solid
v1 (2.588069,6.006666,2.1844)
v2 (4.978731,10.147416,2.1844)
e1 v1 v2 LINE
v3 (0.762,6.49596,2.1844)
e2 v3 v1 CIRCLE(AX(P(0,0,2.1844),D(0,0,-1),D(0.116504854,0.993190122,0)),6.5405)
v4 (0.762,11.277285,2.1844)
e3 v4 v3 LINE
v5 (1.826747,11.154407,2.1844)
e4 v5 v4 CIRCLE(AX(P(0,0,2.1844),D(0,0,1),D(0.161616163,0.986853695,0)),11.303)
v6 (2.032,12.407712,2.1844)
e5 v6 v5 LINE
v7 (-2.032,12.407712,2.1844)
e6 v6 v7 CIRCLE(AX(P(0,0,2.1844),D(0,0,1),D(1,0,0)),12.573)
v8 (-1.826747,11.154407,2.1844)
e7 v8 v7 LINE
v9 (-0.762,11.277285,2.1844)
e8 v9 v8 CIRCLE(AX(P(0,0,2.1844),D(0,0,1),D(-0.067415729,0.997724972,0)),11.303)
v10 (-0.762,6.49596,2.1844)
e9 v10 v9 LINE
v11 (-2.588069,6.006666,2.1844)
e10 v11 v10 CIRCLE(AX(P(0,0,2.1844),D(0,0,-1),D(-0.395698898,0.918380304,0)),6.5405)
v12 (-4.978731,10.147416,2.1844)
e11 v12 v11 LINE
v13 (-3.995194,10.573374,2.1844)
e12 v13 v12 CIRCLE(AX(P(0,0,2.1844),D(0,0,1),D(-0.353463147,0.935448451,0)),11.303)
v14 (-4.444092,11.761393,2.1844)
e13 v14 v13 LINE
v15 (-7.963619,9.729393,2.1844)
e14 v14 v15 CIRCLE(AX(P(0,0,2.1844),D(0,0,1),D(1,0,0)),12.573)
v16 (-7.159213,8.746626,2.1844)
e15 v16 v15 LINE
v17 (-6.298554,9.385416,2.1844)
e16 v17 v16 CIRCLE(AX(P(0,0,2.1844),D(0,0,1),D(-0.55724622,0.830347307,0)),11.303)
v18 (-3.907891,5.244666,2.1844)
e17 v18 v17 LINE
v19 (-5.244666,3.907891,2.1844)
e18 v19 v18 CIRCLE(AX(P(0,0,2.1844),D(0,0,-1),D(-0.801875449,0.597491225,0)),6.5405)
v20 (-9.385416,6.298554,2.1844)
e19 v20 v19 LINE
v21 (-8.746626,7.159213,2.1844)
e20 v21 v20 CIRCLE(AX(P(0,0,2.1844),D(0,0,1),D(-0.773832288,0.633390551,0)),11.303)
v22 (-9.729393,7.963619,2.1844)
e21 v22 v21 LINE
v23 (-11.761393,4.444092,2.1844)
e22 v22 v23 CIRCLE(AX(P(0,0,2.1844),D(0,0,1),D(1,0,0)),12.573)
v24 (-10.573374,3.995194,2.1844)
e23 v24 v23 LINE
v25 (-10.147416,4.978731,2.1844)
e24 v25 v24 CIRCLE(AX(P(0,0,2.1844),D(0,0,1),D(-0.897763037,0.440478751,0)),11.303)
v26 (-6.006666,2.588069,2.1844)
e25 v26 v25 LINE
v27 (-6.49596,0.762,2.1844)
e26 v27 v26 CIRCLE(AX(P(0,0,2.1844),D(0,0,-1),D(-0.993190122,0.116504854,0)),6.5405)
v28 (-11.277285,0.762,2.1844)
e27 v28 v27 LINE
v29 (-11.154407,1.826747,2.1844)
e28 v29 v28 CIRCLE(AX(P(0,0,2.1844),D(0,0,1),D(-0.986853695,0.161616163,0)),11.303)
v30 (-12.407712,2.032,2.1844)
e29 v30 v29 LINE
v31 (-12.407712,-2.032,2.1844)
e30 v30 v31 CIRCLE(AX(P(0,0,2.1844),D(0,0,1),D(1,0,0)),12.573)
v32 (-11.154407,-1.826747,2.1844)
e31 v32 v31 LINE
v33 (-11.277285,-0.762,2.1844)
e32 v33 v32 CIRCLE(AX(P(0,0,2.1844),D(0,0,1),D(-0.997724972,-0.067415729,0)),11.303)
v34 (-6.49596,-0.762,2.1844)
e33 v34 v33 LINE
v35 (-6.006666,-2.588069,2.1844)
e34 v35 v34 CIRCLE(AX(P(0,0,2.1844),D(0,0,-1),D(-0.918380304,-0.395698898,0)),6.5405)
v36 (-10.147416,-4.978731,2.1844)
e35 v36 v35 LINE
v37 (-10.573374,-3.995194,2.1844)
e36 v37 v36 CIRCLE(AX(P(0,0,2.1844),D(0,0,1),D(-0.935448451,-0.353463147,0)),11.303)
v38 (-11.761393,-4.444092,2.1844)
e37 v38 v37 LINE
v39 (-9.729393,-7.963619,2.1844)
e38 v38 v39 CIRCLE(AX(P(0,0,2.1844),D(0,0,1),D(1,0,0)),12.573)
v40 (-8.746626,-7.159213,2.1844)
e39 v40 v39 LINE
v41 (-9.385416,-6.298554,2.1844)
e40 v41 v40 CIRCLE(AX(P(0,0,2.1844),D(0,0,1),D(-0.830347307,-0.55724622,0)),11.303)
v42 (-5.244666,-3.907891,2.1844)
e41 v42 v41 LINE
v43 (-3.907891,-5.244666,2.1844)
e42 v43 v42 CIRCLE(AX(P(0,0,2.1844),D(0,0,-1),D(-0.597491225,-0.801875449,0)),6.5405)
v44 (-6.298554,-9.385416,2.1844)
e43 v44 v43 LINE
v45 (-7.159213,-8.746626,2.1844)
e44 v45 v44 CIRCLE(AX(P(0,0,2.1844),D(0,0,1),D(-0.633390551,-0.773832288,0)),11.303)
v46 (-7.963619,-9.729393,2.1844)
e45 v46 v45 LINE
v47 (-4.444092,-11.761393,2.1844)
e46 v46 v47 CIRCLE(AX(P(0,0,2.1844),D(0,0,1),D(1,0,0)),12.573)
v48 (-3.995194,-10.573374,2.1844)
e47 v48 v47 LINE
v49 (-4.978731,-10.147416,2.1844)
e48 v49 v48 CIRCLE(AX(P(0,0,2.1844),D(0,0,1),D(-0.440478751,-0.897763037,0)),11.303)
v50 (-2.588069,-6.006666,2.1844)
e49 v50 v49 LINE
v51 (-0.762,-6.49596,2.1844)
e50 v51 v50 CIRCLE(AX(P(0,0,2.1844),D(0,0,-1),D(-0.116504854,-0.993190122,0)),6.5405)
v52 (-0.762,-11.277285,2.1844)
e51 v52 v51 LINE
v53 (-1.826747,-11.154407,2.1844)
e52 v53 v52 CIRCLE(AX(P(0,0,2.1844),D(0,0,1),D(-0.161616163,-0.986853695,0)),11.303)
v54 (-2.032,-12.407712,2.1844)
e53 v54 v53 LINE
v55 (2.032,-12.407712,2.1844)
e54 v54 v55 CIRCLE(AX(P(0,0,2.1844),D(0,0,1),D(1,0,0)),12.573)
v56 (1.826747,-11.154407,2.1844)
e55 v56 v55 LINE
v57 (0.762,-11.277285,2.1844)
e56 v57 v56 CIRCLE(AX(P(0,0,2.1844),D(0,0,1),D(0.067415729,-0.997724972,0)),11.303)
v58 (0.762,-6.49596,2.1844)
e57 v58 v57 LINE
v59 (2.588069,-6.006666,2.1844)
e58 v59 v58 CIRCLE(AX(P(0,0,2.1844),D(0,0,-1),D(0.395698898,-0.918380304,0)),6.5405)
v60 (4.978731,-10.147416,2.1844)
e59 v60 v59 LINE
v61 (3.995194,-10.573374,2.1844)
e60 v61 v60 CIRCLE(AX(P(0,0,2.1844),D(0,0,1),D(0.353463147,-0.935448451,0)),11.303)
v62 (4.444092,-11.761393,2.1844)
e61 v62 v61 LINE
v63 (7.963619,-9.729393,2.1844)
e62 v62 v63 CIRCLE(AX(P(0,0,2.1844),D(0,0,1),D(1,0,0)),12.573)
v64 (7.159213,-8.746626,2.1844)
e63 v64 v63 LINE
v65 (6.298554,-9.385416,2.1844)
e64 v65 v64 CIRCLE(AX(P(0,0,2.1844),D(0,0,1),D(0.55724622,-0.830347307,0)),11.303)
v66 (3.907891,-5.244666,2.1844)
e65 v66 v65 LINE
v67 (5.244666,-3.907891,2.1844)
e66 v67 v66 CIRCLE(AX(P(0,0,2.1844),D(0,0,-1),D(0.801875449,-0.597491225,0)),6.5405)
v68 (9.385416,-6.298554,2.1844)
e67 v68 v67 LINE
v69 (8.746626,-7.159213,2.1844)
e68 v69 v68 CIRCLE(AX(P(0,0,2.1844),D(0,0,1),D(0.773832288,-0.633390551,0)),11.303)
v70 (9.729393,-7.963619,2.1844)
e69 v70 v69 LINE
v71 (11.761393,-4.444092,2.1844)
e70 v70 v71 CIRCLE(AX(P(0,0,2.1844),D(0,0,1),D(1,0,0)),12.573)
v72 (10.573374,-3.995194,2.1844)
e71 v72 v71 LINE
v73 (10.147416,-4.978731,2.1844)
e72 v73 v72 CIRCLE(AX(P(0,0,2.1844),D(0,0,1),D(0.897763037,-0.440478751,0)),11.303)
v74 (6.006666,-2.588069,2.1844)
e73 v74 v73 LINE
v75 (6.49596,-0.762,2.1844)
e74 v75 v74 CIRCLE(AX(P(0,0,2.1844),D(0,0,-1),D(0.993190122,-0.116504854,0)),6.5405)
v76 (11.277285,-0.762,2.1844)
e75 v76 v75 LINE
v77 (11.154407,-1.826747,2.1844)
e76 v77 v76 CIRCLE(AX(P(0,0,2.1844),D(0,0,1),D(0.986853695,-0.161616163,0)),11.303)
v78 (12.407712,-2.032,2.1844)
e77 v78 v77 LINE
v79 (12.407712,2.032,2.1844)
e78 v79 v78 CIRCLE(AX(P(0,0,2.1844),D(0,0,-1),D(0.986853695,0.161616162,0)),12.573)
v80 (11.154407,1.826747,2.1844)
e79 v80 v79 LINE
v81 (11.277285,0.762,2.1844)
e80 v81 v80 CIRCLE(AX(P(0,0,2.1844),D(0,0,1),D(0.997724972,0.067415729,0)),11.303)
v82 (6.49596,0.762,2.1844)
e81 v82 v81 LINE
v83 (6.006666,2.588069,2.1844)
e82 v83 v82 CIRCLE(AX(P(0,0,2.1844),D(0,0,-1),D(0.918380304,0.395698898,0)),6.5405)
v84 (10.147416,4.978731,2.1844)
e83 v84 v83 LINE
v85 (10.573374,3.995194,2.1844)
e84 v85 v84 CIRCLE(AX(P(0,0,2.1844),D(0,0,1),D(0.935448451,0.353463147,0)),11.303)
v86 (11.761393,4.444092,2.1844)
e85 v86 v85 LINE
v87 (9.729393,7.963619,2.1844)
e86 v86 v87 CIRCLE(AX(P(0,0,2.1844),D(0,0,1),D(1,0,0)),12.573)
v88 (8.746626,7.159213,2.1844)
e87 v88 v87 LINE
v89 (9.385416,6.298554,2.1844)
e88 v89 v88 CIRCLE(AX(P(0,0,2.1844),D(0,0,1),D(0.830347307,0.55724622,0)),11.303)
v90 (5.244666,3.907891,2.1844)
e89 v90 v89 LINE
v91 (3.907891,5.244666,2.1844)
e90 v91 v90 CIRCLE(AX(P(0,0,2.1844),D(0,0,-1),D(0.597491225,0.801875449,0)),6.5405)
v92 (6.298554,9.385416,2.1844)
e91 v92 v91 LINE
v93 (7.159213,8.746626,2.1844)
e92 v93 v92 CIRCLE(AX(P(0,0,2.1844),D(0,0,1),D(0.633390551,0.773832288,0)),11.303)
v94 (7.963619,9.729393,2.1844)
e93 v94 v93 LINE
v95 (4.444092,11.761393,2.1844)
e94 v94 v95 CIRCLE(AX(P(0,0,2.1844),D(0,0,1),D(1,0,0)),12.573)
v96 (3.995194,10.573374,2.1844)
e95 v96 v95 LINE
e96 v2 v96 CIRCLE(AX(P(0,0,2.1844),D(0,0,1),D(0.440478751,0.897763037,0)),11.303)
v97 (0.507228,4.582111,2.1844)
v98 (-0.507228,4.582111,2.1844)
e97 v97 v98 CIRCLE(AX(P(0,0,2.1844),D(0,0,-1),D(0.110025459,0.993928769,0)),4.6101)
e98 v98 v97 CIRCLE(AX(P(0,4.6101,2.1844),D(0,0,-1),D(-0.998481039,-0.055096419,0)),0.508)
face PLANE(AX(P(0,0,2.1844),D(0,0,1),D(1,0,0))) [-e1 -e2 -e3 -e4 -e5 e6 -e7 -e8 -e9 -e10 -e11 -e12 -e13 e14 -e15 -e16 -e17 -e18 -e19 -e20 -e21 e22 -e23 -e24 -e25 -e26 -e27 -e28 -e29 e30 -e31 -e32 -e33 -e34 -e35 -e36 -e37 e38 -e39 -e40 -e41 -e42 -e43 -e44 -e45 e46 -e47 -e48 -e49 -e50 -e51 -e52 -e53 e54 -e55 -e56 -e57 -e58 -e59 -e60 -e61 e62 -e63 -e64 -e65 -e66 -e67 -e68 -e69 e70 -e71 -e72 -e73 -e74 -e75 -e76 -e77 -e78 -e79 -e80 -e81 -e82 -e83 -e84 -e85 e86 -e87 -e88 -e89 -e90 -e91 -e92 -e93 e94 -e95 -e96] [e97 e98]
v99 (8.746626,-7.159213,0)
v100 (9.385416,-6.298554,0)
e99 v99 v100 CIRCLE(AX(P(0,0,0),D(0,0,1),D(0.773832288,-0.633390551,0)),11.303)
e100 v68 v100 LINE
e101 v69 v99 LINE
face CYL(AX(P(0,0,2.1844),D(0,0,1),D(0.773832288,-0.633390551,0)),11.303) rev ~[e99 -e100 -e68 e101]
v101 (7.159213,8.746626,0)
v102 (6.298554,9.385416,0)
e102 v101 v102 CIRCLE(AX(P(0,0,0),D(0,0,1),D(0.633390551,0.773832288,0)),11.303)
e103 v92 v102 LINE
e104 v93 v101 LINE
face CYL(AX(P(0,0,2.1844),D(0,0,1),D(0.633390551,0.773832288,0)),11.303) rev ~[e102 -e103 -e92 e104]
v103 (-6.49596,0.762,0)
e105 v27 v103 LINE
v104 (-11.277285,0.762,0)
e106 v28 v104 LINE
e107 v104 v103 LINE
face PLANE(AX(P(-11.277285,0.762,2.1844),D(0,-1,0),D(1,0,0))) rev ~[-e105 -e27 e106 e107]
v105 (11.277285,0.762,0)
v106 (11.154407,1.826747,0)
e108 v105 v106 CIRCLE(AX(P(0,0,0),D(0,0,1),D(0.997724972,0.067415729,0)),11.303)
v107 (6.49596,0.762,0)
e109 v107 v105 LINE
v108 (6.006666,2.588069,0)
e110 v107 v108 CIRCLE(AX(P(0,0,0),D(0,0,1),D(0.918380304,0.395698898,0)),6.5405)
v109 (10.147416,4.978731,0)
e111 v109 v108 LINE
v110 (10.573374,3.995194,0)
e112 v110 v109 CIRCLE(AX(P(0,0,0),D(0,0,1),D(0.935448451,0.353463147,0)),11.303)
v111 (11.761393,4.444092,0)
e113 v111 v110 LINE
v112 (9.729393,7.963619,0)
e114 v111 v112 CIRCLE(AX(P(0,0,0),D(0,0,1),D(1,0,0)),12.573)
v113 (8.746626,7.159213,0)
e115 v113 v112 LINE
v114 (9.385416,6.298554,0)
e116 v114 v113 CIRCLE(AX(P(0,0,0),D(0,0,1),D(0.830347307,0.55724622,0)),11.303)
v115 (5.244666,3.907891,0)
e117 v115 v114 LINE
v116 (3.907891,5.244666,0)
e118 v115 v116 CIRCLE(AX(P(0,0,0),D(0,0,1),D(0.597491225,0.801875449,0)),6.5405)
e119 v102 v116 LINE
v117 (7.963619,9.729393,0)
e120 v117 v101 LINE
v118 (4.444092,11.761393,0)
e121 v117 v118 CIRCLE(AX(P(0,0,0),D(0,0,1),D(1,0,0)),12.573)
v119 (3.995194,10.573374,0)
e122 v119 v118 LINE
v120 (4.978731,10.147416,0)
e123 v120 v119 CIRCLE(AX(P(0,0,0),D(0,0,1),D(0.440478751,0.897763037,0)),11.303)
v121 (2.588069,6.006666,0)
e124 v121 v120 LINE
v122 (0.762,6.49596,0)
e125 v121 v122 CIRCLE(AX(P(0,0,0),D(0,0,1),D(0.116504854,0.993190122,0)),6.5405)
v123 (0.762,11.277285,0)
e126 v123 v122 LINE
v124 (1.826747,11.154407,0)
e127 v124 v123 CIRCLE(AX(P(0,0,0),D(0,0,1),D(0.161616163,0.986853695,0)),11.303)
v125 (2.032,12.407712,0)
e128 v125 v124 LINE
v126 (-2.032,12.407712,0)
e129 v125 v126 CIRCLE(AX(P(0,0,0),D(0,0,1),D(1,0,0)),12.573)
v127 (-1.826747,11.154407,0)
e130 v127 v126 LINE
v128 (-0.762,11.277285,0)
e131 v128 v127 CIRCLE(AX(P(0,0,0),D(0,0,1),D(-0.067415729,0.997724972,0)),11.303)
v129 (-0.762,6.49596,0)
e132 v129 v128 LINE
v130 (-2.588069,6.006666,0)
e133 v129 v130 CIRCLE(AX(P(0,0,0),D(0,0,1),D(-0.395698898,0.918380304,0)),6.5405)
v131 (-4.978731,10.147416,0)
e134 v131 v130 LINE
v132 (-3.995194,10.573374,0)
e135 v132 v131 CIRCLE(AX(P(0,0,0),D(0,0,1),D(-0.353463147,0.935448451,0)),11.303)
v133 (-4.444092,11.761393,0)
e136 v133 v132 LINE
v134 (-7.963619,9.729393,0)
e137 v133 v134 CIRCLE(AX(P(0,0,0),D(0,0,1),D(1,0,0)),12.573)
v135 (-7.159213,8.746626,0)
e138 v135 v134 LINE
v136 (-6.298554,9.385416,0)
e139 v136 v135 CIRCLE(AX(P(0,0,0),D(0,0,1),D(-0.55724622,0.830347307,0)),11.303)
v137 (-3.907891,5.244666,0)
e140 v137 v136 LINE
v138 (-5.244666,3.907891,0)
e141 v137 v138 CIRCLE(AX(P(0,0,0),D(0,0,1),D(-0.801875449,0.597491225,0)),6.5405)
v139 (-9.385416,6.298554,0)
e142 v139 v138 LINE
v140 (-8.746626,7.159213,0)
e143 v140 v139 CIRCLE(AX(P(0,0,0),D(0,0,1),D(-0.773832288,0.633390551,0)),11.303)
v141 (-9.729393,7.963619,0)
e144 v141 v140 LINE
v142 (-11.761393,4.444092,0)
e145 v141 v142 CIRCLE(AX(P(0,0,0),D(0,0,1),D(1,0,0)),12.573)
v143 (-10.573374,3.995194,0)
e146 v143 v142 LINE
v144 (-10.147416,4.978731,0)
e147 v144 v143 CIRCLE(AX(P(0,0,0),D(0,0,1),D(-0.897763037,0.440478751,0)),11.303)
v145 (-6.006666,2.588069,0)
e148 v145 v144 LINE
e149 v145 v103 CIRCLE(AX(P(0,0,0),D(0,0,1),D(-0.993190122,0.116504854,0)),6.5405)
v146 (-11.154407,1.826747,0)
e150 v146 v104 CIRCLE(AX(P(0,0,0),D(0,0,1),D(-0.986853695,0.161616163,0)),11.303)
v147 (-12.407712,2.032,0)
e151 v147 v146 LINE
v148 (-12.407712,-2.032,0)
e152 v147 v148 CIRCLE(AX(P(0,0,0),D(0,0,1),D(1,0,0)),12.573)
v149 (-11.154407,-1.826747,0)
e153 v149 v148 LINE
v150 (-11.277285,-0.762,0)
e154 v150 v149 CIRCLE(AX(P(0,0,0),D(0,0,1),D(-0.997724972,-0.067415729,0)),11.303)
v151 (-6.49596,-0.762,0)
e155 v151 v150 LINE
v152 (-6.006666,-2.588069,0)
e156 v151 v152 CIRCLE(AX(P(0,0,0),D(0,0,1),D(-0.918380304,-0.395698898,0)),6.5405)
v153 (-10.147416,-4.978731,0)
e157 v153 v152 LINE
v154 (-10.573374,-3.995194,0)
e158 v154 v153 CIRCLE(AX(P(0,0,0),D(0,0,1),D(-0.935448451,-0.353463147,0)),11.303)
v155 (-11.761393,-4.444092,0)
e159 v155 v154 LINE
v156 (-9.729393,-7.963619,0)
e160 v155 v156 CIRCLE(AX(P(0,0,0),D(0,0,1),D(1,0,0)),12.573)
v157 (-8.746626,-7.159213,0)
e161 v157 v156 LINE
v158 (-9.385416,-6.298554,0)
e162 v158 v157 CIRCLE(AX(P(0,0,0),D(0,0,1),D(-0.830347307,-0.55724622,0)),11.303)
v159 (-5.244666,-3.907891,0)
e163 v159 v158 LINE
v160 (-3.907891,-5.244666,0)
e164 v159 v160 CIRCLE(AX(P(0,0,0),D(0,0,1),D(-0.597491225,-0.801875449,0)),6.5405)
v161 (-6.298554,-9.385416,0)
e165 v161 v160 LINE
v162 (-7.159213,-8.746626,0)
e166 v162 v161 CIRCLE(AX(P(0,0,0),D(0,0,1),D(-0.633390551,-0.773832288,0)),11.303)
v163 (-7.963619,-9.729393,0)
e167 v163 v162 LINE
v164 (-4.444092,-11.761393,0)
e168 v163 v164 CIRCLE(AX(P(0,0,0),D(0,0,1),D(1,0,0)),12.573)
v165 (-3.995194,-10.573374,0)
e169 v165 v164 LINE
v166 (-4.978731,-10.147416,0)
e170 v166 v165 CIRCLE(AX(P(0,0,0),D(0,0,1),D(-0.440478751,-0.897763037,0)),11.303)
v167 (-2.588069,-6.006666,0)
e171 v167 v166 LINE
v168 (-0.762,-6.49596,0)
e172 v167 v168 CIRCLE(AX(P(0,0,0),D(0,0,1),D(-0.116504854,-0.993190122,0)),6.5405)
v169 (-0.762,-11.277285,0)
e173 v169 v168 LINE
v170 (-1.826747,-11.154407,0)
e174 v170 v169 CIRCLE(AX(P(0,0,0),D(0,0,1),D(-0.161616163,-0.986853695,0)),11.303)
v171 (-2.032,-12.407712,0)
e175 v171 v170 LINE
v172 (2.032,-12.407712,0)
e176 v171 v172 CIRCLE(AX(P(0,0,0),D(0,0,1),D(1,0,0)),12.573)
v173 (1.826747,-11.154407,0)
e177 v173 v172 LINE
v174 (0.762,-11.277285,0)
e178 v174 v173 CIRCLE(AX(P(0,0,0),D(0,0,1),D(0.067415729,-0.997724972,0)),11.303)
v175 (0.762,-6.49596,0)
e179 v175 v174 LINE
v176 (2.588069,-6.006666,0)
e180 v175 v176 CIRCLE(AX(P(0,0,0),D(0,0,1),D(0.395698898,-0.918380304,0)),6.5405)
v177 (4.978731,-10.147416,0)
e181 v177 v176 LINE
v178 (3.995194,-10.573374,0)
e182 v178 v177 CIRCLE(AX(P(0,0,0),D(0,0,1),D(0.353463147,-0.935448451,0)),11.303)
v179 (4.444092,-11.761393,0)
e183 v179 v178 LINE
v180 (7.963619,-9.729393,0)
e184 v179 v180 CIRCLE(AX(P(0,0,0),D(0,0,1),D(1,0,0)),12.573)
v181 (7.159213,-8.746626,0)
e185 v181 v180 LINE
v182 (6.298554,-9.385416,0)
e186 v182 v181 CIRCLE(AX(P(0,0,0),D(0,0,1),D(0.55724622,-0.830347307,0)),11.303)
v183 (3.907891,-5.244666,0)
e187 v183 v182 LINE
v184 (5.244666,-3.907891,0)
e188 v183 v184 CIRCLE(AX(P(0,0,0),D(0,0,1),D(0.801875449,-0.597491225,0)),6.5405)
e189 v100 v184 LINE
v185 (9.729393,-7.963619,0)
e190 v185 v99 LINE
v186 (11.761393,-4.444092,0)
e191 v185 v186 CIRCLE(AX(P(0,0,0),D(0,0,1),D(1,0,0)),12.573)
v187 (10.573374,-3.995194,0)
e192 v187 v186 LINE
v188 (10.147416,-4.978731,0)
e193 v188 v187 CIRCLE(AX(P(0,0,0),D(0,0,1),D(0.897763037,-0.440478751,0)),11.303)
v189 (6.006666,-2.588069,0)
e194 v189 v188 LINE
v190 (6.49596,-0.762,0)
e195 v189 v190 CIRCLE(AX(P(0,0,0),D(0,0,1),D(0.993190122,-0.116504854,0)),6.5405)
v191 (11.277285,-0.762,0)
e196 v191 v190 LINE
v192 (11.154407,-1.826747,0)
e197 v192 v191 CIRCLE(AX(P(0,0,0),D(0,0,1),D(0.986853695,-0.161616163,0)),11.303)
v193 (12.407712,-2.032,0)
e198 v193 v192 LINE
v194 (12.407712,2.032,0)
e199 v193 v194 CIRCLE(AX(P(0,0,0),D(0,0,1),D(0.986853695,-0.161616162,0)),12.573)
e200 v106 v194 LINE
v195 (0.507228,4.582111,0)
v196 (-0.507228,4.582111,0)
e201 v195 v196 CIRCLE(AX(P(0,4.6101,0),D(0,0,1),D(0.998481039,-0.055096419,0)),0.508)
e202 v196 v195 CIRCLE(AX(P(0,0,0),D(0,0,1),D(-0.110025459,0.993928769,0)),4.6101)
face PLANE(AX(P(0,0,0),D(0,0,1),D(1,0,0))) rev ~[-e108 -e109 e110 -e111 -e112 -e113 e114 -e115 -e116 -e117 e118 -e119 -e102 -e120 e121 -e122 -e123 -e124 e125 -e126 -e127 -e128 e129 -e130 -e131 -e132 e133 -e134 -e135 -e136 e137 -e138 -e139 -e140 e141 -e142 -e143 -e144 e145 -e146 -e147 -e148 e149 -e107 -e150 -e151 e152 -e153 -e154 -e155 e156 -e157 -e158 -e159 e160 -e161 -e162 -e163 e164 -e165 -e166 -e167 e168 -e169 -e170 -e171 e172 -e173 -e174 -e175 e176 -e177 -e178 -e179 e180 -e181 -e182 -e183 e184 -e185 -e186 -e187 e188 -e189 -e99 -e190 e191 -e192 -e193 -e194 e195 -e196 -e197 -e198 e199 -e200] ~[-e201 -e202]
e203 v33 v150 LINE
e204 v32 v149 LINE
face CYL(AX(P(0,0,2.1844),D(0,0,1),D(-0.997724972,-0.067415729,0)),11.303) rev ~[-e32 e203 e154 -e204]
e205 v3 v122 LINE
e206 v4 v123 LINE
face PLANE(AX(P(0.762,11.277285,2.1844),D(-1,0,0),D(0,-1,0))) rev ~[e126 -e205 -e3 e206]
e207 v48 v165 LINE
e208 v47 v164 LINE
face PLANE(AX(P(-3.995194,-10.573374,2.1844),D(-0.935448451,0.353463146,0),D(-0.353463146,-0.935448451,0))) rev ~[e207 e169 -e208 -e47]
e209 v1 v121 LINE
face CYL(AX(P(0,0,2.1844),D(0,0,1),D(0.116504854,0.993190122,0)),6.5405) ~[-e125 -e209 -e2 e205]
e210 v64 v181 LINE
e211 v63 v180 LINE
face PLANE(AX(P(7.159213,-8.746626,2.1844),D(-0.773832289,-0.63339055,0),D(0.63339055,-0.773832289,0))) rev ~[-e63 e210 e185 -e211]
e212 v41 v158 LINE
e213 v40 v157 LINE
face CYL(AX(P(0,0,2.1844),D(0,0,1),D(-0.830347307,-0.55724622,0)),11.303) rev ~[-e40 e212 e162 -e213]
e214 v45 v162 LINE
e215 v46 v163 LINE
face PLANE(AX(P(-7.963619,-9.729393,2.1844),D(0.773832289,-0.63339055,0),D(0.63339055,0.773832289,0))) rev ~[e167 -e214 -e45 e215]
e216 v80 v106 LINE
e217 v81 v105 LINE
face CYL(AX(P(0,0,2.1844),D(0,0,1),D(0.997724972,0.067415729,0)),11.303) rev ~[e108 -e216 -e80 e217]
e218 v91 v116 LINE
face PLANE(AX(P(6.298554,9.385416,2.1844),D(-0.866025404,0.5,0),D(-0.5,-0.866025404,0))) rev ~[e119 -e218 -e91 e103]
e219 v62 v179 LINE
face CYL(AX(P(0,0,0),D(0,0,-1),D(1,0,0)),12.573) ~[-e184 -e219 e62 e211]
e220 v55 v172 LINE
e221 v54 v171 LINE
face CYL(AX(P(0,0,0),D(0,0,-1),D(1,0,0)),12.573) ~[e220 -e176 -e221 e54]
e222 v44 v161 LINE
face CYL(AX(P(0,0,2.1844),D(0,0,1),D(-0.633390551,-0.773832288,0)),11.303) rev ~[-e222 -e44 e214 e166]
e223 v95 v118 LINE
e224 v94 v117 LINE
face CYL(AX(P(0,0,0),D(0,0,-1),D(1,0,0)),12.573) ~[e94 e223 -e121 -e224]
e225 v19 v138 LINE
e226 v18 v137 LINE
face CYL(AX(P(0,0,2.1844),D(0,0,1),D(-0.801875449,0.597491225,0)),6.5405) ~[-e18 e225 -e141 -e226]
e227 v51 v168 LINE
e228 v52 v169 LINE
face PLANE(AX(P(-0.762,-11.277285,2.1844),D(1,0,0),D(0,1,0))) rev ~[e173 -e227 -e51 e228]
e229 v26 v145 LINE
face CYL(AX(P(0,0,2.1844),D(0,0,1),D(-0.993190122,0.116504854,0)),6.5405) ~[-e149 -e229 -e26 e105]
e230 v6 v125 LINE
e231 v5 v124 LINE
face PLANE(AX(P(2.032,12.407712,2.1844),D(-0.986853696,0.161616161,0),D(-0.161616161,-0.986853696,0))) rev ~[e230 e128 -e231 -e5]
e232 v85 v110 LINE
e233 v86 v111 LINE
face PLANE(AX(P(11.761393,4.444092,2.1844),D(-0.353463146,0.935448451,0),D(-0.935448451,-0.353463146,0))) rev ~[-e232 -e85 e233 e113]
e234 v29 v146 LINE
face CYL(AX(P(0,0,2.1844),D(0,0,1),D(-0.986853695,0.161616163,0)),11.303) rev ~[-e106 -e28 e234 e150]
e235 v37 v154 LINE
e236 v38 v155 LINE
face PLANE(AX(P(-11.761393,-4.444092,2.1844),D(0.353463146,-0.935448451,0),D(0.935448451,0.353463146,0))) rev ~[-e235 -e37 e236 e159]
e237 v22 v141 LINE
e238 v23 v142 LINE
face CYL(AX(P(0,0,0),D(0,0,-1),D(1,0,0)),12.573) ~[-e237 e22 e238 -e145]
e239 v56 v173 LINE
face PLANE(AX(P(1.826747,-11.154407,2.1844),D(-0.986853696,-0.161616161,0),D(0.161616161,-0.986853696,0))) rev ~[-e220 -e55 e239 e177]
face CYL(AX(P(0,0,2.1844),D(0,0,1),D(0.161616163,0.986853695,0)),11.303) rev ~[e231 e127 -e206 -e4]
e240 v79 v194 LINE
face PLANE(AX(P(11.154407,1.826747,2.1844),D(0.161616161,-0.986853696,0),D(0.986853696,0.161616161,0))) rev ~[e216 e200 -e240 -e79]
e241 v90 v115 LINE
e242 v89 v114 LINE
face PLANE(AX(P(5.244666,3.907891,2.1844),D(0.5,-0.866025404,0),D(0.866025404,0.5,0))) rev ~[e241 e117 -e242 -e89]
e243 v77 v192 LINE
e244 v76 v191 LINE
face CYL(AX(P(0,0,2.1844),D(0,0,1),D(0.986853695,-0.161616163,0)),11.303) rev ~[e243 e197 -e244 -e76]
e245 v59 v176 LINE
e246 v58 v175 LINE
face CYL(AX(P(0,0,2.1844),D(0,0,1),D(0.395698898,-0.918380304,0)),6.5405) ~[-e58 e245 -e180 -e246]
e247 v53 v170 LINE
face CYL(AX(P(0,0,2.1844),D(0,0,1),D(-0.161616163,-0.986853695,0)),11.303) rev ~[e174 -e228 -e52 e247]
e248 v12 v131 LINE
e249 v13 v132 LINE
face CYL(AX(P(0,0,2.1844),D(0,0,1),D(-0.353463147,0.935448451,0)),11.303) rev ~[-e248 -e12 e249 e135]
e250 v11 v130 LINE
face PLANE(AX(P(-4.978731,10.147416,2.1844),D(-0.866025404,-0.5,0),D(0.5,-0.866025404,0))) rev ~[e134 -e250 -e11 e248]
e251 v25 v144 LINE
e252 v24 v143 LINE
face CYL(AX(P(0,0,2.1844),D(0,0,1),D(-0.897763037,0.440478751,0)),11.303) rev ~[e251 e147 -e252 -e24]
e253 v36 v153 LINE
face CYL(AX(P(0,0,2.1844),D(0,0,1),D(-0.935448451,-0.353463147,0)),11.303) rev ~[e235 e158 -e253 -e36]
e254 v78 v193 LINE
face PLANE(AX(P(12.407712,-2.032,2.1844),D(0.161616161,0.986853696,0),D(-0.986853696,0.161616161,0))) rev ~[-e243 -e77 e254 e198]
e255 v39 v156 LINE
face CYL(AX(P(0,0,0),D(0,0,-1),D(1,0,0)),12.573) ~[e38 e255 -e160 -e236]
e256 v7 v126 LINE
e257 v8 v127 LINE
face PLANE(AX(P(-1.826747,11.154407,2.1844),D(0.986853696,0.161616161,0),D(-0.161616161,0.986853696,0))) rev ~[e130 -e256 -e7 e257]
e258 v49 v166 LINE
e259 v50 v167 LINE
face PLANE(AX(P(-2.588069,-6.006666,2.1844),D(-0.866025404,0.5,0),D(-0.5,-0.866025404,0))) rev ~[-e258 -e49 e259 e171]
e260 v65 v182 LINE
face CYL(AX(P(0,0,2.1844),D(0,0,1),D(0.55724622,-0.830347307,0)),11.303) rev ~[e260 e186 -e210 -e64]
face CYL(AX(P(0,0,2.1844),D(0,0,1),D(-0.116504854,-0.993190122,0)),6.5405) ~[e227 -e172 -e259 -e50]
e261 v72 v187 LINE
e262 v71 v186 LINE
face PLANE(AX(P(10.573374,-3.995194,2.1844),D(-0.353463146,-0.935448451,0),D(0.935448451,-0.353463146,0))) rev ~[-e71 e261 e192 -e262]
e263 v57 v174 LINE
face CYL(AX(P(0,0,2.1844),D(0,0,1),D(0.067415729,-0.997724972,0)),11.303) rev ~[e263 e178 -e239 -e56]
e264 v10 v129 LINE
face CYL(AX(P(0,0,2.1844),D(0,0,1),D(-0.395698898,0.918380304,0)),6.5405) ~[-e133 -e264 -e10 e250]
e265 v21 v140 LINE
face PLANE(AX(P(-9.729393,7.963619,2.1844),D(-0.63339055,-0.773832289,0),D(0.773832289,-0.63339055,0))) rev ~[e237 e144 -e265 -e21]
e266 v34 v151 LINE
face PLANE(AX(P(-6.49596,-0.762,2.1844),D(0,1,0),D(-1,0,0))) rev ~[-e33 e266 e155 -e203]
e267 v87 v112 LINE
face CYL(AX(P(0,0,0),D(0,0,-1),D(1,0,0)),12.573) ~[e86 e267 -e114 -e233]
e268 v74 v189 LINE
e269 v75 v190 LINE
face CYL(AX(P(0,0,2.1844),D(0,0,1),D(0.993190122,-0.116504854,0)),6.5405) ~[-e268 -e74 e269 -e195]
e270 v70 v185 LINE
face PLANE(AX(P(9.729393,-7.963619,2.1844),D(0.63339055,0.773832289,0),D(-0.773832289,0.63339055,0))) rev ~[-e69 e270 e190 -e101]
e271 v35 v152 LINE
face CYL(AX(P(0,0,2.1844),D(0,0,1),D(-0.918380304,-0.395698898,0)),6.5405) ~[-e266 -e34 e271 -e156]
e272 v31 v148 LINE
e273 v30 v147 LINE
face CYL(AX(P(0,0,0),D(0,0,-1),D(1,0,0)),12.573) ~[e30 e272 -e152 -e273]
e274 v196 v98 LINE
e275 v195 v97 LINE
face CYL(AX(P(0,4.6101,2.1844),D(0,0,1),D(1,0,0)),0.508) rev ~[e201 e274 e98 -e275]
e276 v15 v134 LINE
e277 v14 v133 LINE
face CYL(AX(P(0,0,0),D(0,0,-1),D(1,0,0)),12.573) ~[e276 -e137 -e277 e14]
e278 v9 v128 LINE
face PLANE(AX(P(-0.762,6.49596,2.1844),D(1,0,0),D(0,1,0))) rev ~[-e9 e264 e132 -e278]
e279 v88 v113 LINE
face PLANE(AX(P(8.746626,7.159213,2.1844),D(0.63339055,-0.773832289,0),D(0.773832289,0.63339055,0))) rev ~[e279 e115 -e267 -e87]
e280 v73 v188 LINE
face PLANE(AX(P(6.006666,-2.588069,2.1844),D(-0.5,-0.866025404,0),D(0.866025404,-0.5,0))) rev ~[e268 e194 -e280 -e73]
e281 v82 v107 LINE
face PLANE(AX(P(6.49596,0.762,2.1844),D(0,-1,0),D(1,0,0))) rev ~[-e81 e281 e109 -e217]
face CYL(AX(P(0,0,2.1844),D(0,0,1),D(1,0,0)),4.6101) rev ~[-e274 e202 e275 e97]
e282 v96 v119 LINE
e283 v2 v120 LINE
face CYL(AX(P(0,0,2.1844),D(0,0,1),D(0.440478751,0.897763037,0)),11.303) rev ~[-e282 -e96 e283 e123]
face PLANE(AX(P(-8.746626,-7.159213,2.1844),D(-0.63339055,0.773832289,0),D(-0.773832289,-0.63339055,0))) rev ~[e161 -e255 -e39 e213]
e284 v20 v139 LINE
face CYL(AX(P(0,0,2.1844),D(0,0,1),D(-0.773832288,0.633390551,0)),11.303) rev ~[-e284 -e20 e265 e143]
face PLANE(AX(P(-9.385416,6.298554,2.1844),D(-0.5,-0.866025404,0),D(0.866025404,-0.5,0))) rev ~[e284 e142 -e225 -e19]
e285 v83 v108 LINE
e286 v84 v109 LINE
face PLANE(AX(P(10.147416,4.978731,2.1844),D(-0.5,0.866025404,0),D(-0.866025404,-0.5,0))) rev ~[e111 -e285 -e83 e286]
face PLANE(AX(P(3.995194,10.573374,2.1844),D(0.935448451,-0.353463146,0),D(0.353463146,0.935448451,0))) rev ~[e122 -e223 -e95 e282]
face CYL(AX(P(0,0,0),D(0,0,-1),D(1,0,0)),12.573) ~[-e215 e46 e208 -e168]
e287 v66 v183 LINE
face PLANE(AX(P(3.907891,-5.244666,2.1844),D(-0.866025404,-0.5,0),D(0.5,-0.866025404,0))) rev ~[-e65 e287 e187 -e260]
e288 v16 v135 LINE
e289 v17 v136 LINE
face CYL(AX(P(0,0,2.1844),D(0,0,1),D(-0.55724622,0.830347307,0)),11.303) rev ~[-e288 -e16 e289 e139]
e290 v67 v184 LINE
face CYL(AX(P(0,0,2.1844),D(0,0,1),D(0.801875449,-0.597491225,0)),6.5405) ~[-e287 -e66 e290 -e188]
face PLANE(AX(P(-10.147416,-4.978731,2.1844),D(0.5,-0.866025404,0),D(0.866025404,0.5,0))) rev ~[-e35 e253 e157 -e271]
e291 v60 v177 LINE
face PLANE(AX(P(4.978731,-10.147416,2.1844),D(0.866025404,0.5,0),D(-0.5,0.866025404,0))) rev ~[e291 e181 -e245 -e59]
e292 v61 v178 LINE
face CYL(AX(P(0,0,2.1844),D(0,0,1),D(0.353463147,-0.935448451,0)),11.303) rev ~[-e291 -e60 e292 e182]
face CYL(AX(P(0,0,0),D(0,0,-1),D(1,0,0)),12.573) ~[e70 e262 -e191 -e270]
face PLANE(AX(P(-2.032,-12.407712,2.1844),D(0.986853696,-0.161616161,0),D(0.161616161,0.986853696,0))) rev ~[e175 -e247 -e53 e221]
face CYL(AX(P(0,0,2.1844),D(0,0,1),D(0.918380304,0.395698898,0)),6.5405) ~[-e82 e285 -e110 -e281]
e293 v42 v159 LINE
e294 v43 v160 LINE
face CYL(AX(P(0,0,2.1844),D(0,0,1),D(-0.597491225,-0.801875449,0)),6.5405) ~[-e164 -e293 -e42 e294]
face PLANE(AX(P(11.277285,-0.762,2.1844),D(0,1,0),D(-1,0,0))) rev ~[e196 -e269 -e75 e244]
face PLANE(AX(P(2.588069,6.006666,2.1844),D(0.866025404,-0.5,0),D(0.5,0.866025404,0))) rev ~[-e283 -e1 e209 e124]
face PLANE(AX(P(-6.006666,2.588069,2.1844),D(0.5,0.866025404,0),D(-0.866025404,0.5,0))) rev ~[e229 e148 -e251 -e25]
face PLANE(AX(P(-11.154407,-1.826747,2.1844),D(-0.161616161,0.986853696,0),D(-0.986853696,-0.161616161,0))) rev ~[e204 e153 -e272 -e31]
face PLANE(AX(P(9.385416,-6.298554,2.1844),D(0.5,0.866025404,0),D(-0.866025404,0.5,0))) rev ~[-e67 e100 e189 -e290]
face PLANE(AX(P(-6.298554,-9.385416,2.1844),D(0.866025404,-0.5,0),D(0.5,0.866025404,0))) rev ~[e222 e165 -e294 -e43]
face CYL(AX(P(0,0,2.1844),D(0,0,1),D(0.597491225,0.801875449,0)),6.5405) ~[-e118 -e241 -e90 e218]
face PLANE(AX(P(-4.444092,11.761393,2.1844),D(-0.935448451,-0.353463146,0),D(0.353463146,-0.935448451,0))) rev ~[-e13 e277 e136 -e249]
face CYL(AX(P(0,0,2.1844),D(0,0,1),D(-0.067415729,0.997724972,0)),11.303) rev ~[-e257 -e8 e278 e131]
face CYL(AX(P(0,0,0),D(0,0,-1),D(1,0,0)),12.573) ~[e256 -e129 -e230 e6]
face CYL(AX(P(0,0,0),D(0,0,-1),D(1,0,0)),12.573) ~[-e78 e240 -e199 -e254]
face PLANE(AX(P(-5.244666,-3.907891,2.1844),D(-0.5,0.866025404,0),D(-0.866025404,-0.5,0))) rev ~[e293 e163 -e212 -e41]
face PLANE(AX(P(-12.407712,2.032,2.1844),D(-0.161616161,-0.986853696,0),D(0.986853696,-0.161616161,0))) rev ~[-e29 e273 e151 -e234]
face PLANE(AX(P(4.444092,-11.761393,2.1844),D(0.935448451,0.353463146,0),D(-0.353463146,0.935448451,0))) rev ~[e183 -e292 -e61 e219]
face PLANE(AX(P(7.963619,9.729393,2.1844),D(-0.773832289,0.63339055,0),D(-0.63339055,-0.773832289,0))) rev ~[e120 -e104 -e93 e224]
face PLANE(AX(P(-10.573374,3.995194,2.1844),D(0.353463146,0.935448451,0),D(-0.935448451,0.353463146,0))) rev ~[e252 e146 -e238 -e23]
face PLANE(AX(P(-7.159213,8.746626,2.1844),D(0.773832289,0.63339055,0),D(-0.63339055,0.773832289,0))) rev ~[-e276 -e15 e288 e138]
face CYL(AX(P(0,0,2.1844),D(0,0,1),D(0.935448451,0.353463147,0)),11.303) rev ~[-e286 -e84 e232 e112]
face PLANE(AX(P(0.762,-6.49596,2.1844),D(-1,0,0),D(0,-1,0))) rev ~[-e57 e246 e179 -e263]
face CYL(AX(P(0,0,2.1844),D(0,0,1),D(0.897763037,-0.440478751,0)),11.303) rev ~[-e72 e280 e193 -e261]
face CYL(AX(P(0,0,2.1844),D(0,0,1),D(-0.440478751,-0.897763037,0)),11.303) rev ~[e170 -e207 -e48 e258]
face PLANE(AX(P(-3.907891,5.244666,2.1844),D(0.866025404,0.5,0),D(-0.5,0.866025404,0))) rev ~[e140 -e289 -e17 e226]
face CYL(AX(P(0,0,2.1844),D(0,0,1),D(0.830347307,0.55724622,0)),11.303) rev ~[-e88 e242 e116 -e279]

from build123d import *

# Parameters (mm, degrees)
SKETCH1_R          = 12.573
EXTRUDE1_DEPTH     = 2.1844
CUT_EXTRUDE1_DEPTH = 18.914582366
SKETCH4_R          = 4.6101
CUT_EXTRUDE2_DEPTH = 18.914582366
SKETCH5_R          = 0.508
CUT_EXTRUDE3_DEPTH = 18.914582366


with BuildPart() as part:
    # Sketch1 → Extrude1 (new body)
    with BuildSketch(Plane.XY):
        Circle(SKETCH1_R)
    extrude(amount=EXTRUDE1_DEPTH)

    # Sketch2 → Cut-Extrude1 (cut, through all)
    with BuildSketch(Plane.XY.offset(2.1844)):
        with BuildLine():
            Line((-7.159213379, 8.746626366), (-7.963619377, 9.729393373))
            ThreePointArc((-7.963619377, 9.729393373), (-8.89045356, 8.89045356), (-9.729393373, 7.963619377))
            Line((-9.729393373, 7.963619377), (-8.746626366, 7.159213379))
            ThreePointArc((-8.746626366, 7.159213379), (-9.076228299, 6.736459669), (-9.385415604, 6.298554036))
            Line((-9.385415604, 6.298554036), (-5.244666377, 3.907891355))
            ThreePointArc((-5.244666377, 3.907891355), (-4.624831902, 4.624831902), (-3.907891355, 5.244666377))
            Line((-3.907891355, 5.244666377), (-6.298554036, 9.385415604))
            ThreePointArc((-6.298554036, 9.385415604), (-6.736459669, 9.076228299), (-7.159213379, 8.746626366))
        make_face()
        with BuildLine():
            Line((-10.573373841, 3.995193941), (-11.761393373, 4.444092136))
            ThreePointArc((-11.761393373, 4.444092136), (-12.144585414, 3.254131854), (-12.407711513, 2.032))
            Line((-12.407711513, 2.032), (-11.15440732, 1.826747475))
            ThreePointArc((-11.15440732, 1.826747475), (-11.228474112, 1.295831056), (-11.277285356, 0.762))
            Line((-11.277285356, 0.762), (-6.495959994, 0.762))
            ThreePointArc((-6.495959994, 0.762), (-6.317637867, 1.692805964), (-6.006666377, 2.58806864))
            Line((-6.006666377, 2.58806864), (-10.147415604, 4.97873132))
            ThreePointArc((-10.147415604, 4.97873132), (-10.372059354, 4.492014443), (-10.573373841, 3.995193941))
        make_face()
        with BuildLine():
            Line((-11.15440732, -1.826747475), (-12.407711513, -2.032))
            ThreePointArc((-12.407711513, -2.032), (-12.144585414, -3.254131854), (-11.761393373, -4.444092136))
            Line((-11.761393373, -4.444092136), (-10.573373841, -3.995193941))
            ThreePointArc((-10.573373841, -3.995193941), (-10.372059354, -4.492014443), (-10.147415604, -4.97873132))
            Line((-10.147415604, -4.97873132), (-6.006666377, -2.58806864))
            ThreePointArc((-6.006666377, -2.58806864), (-6.317637867, -1.692805964), (-6.495959994, -0.762))
            Line((-6.495959994, -0.762), (-11.277285356, -0.762))
            ThreePointArc((-11.277285356, -0.762), (-11.228474112, -1.295831056), (-11.15440732, -1.826747475))
        make_face()
        with BuildLine():
            Line((-8.746626366, -7.159213379), (-9.729393373, -7.963619377))
            ThreePointArc((-9.729393373, -7.963619377), (-8.89045356, -8.89045356), (-7.963619377, -9.729393373))
            Line((-7.963619377, -9.729393373), (-7.159213379, -8.746626366))
            ThreePointArc((-7.159213379, -8.746626366), (-6.736459669, -9.076228299), (-6.298554036, -9.385415604))
            Line((-6.298554036, -9.385415604), (-3.907891355, -5.244666377))
            ThreePointArc((-3.907891355, -5.244666377), (-4.624831902, -4.624831902), (-5.244666377, -3.907891355))
            Line((-5.244666377, -3.907891355), (-9.385415604, -6.298554036))
            ThreePointArc((-9.385415604, -6.298554036), (-9.076228299, -6.736459669), (-8.746626366, -7.159213379))
        make_face()
        with BuildLine():
            ThreePointArc((-4.444092136, -11.761393373), (-3.254131854, -12.144585414), (-2.032, -12.407711513))
            Line((-2.032, -12.407711513), (-1.826747475, -11.15440732))
            ThreePointArc((-1.826747475, -11.15440732), (-1.295831056, -11.228474112), (-0.762, -11.277285356))
            Line((-0.762, -11.277285356), (-0.762, -6.495959994))
            ThreePointArc((-0.762, -6.495959994), (-1.692805964, -6.317637867), (-2.58806864, -6.006666377))
            Line((-2.58806864, -6.006666377), (-4.97873132, -10.147415604))
            ThreePointArc((-4.97873132, -10.147415604), (-4.492014443, -10.372059354), (-3.995193941, -10.573373841))
            Line((-3.995193941, -10.573373841), (-4.444092136, -11.761393373))
        make_face()
        with BuildLine():
            ThreePointArc((2.032, -12.407711513), (3.254131854, -12.144585414), (4.444092136, -11.761393373))
            Line((4.444092136, -11.761393373), (3.995193941, -10.573373841))
            ThreePointArc((3.995193941, -10.573373841), (4.492014443, -10.372059354), (4.97873132, -10.147415604))
            Line((4.97873132, -10.147415604), (2.58806864, -6.006666377))
            ThreePointArc((2.58806864, -6.006666377), (1.692805964, -6.317637867), (0.762, -6.495959994))
            Line((0.762, -6.495959994), (0.762, -11.277285356))
            ThreePointArc((0.762, -11.277285356), (1.295831056, -11.228474112), (1.826747475, -11.15440732))
            Line((1.826747475, -11.15440732), (2.032, -12.407711513))
        make_face()
        with BuildLine():
            ThreePointArc((7.963619377, -9.729393373), (8.89045356, -8.89045356), (9.729393373, -7.963619377))
            Line((9.729393373, -7.963619377), (8.746626366, -7.159213379))
            ThreePointArc((8.746626366, -7.159213379), (9.076228299, -6.736459669), (9.385415604, -6.298554036))
            Line((9.385415604, -6.298554036), (5.244666377, -3.907891355))
            ThreePointArc((5.244666377, -3.907891355), (4.624831902, -4.624831902), (3.907891355, -5.244666377))
            Line((3.907891355, -5.244666377), (6.298554036, -9.385415604))
            ThreePointArc((6.298554036, -9.385415604), (6.736459669, -9.076228299), (7.159213379, -8.746626366))
            Line((7.159213379, -8.746626366), (7.963619377, -9.729393373))
        make_face()
        with BuildLine():
            ThreePointArc((11.761393373, -4.444092136), (12.144585414, -3.254131854), (12.407711513, -2.032))
            Line((12.407711513, -2.032), (11.15440732, -1.826747475))
            ThreePointArc((11.15440732, -1.826747475), (11.228474112, -1.295831056), (11.277285356, -0.762))
            Line((11.277285356, -0.762), (6.495959994, -0.762))
            ThreePointArc((6.495959994, -0.762), (6.317637867, -1.692805964), (6.006666377, -2.58806864))
            Line((6.006666377, -2.58806864), (10.147415604, -4.97873132))
            ThreePointArc((10.147415604, -4.97873132), (10.372059354, -4.492014443), (10.573373841, -3.995193941))
            Line((10.573373841, -3.995193941), (11.761393373, -4.444092136))
        make_face()
        with BuildLine():
            ThreePointArc((12.407711513, 2.032), (12.144585414, 3.254131854), (11.761393373, 4.444092136))
            Line((11.761393373, 4.444092136), (10.573373841, 3.995193941))
            ThreePointArc((10.573373841, 3.995193941), (10.372059354, 4.492014443), (10.147415604, 4.97873132))
            Line((10.147415604, 4.97873132), (6.006666377, 2.58806864))
            ThreePointArc((6.006666377, 2.58806864), (6.317637867, 1.692805964), (6.495959994, 0.762))
            Line((6.495959994, 0.762), (11.277285356, 0.762))
            ThreePointArc((11.277285356, 0.762), (11.228474112, 1.295831056), (11.15440732, 1.826747475))
            Line((11.15440732, 1.826747475), (12.407711513, 2.032))
        make_face()
        with BuildLine():
            ThreePointArc((9.729393373, 7.963619377), (8.89045356, 8.89045356), (7.963619377, 9.729393373))
            Line((7.963619377, 9.729393373), (7.159213379, 8.746626366))
            ThreePointArc((7.159213379, 8.746626366), (6.736459669, 9.076228299), (6.298554036, 9.385415604))
            Line((6.298554036, 9.385415604), (3.907891355, 5.244666377))
            ThreePointArc((3.907891355, 5.244666377), (4.624831902, 4.624831902), (5.244666377, 3.907891355))
            Line((5.244666377, 3.907891355), (9.385415604, 6.298554036))
            ThreePointArc((9.385415604, 6.298554036), (9.076228299, 6.736459669), (8.746626366, 7.159213379))
            Line((8.746626366, 7.159213379), (9.729393373, 7.963619377))
        make_face()
        with BuildLine():
            ThreePointArc((4.97873132, 10.147415604), (4.492014443, 10.372059354), (3.995193941, 10.573373841))
            Line((3.995193941, 10.573373841), (4.444092136, 11.761393373))
            ThreePointArc((4.444092136, 11.761393373), (3.254131854, 12.144585414), (2.032, 12.407711513))
            Line((2.032, 12.407711513), (1.826747475, 11.15440732))
            ThreePointArc((1.826747475, 11.15440732), (1.295831056, 11.228474112), (0.762, 11.277285356))
            Line((0.762, 11.277285356), (0.762, 6.495959994))
            ThreePointArc((0.762, 6.495959994), (1.692805964, 6.317637867), (2.58806864, 6.006666377))
            Line((2.58806864, 6.006666377), (4.97873132, 10.147415604))
        make_face()
        with BuildLine():
            Line((-1.826747475, 11.15440732), (-2.032, 12.407711513))
            ThreePointArc((-2.032, 12.407711513), (-3.254131854, 12.144585414), (-4.444092136, 11.761393373))
            Line((-4.444092136, 11.761393373), (-3.995193941, 10.573373841))
            ThreePointArc((-3.995193941, 10.573373841), (-4.492014443, 10.372059354), (-4.97873132, 10.147415604))
            Line((-4.97873132, 10.147415604), (-2.58806864, 6.006666377))
            ThreePointArc((-2.58806864, 6.006666377), (-1.692805964, 6.317637867), (-0.762, 6.495959994))
            Line((-0.762, 6.495959994), (-0.762, 11.277285356))
            ThreePointArc((-0.762, 11.277285356), (-1.295831056, 11.228474112), (-1.826747475, 11.15440732))
        make_face()
    extrude(amount=-CUT_EXTRUDE1_DEPTH, mode=Mode.SUBTRACT)

    # Sketch4 → Cut-Extrude2 (cut, through all)
    with BuildSketch(Plane.XY.offset(2.1844)):
        Circle(SKETCH4_R)
    extrude(amount=-CUT_EXTRUDE2_DEPTH, mode=Mode.SUBTRACT)

    # Sketch5 → Cut-Extrude3 (cut, through all)
    with BuildSketch(Plane.XY.offset(2.1844)):
        with Locations((0, 4.6101)):
            Circle(SKETCH5_R)
    extrude(amount=-CUT_EXTRUDE3_DEPTH, mode=Mode.SUBTRACT)


solid = part.part
